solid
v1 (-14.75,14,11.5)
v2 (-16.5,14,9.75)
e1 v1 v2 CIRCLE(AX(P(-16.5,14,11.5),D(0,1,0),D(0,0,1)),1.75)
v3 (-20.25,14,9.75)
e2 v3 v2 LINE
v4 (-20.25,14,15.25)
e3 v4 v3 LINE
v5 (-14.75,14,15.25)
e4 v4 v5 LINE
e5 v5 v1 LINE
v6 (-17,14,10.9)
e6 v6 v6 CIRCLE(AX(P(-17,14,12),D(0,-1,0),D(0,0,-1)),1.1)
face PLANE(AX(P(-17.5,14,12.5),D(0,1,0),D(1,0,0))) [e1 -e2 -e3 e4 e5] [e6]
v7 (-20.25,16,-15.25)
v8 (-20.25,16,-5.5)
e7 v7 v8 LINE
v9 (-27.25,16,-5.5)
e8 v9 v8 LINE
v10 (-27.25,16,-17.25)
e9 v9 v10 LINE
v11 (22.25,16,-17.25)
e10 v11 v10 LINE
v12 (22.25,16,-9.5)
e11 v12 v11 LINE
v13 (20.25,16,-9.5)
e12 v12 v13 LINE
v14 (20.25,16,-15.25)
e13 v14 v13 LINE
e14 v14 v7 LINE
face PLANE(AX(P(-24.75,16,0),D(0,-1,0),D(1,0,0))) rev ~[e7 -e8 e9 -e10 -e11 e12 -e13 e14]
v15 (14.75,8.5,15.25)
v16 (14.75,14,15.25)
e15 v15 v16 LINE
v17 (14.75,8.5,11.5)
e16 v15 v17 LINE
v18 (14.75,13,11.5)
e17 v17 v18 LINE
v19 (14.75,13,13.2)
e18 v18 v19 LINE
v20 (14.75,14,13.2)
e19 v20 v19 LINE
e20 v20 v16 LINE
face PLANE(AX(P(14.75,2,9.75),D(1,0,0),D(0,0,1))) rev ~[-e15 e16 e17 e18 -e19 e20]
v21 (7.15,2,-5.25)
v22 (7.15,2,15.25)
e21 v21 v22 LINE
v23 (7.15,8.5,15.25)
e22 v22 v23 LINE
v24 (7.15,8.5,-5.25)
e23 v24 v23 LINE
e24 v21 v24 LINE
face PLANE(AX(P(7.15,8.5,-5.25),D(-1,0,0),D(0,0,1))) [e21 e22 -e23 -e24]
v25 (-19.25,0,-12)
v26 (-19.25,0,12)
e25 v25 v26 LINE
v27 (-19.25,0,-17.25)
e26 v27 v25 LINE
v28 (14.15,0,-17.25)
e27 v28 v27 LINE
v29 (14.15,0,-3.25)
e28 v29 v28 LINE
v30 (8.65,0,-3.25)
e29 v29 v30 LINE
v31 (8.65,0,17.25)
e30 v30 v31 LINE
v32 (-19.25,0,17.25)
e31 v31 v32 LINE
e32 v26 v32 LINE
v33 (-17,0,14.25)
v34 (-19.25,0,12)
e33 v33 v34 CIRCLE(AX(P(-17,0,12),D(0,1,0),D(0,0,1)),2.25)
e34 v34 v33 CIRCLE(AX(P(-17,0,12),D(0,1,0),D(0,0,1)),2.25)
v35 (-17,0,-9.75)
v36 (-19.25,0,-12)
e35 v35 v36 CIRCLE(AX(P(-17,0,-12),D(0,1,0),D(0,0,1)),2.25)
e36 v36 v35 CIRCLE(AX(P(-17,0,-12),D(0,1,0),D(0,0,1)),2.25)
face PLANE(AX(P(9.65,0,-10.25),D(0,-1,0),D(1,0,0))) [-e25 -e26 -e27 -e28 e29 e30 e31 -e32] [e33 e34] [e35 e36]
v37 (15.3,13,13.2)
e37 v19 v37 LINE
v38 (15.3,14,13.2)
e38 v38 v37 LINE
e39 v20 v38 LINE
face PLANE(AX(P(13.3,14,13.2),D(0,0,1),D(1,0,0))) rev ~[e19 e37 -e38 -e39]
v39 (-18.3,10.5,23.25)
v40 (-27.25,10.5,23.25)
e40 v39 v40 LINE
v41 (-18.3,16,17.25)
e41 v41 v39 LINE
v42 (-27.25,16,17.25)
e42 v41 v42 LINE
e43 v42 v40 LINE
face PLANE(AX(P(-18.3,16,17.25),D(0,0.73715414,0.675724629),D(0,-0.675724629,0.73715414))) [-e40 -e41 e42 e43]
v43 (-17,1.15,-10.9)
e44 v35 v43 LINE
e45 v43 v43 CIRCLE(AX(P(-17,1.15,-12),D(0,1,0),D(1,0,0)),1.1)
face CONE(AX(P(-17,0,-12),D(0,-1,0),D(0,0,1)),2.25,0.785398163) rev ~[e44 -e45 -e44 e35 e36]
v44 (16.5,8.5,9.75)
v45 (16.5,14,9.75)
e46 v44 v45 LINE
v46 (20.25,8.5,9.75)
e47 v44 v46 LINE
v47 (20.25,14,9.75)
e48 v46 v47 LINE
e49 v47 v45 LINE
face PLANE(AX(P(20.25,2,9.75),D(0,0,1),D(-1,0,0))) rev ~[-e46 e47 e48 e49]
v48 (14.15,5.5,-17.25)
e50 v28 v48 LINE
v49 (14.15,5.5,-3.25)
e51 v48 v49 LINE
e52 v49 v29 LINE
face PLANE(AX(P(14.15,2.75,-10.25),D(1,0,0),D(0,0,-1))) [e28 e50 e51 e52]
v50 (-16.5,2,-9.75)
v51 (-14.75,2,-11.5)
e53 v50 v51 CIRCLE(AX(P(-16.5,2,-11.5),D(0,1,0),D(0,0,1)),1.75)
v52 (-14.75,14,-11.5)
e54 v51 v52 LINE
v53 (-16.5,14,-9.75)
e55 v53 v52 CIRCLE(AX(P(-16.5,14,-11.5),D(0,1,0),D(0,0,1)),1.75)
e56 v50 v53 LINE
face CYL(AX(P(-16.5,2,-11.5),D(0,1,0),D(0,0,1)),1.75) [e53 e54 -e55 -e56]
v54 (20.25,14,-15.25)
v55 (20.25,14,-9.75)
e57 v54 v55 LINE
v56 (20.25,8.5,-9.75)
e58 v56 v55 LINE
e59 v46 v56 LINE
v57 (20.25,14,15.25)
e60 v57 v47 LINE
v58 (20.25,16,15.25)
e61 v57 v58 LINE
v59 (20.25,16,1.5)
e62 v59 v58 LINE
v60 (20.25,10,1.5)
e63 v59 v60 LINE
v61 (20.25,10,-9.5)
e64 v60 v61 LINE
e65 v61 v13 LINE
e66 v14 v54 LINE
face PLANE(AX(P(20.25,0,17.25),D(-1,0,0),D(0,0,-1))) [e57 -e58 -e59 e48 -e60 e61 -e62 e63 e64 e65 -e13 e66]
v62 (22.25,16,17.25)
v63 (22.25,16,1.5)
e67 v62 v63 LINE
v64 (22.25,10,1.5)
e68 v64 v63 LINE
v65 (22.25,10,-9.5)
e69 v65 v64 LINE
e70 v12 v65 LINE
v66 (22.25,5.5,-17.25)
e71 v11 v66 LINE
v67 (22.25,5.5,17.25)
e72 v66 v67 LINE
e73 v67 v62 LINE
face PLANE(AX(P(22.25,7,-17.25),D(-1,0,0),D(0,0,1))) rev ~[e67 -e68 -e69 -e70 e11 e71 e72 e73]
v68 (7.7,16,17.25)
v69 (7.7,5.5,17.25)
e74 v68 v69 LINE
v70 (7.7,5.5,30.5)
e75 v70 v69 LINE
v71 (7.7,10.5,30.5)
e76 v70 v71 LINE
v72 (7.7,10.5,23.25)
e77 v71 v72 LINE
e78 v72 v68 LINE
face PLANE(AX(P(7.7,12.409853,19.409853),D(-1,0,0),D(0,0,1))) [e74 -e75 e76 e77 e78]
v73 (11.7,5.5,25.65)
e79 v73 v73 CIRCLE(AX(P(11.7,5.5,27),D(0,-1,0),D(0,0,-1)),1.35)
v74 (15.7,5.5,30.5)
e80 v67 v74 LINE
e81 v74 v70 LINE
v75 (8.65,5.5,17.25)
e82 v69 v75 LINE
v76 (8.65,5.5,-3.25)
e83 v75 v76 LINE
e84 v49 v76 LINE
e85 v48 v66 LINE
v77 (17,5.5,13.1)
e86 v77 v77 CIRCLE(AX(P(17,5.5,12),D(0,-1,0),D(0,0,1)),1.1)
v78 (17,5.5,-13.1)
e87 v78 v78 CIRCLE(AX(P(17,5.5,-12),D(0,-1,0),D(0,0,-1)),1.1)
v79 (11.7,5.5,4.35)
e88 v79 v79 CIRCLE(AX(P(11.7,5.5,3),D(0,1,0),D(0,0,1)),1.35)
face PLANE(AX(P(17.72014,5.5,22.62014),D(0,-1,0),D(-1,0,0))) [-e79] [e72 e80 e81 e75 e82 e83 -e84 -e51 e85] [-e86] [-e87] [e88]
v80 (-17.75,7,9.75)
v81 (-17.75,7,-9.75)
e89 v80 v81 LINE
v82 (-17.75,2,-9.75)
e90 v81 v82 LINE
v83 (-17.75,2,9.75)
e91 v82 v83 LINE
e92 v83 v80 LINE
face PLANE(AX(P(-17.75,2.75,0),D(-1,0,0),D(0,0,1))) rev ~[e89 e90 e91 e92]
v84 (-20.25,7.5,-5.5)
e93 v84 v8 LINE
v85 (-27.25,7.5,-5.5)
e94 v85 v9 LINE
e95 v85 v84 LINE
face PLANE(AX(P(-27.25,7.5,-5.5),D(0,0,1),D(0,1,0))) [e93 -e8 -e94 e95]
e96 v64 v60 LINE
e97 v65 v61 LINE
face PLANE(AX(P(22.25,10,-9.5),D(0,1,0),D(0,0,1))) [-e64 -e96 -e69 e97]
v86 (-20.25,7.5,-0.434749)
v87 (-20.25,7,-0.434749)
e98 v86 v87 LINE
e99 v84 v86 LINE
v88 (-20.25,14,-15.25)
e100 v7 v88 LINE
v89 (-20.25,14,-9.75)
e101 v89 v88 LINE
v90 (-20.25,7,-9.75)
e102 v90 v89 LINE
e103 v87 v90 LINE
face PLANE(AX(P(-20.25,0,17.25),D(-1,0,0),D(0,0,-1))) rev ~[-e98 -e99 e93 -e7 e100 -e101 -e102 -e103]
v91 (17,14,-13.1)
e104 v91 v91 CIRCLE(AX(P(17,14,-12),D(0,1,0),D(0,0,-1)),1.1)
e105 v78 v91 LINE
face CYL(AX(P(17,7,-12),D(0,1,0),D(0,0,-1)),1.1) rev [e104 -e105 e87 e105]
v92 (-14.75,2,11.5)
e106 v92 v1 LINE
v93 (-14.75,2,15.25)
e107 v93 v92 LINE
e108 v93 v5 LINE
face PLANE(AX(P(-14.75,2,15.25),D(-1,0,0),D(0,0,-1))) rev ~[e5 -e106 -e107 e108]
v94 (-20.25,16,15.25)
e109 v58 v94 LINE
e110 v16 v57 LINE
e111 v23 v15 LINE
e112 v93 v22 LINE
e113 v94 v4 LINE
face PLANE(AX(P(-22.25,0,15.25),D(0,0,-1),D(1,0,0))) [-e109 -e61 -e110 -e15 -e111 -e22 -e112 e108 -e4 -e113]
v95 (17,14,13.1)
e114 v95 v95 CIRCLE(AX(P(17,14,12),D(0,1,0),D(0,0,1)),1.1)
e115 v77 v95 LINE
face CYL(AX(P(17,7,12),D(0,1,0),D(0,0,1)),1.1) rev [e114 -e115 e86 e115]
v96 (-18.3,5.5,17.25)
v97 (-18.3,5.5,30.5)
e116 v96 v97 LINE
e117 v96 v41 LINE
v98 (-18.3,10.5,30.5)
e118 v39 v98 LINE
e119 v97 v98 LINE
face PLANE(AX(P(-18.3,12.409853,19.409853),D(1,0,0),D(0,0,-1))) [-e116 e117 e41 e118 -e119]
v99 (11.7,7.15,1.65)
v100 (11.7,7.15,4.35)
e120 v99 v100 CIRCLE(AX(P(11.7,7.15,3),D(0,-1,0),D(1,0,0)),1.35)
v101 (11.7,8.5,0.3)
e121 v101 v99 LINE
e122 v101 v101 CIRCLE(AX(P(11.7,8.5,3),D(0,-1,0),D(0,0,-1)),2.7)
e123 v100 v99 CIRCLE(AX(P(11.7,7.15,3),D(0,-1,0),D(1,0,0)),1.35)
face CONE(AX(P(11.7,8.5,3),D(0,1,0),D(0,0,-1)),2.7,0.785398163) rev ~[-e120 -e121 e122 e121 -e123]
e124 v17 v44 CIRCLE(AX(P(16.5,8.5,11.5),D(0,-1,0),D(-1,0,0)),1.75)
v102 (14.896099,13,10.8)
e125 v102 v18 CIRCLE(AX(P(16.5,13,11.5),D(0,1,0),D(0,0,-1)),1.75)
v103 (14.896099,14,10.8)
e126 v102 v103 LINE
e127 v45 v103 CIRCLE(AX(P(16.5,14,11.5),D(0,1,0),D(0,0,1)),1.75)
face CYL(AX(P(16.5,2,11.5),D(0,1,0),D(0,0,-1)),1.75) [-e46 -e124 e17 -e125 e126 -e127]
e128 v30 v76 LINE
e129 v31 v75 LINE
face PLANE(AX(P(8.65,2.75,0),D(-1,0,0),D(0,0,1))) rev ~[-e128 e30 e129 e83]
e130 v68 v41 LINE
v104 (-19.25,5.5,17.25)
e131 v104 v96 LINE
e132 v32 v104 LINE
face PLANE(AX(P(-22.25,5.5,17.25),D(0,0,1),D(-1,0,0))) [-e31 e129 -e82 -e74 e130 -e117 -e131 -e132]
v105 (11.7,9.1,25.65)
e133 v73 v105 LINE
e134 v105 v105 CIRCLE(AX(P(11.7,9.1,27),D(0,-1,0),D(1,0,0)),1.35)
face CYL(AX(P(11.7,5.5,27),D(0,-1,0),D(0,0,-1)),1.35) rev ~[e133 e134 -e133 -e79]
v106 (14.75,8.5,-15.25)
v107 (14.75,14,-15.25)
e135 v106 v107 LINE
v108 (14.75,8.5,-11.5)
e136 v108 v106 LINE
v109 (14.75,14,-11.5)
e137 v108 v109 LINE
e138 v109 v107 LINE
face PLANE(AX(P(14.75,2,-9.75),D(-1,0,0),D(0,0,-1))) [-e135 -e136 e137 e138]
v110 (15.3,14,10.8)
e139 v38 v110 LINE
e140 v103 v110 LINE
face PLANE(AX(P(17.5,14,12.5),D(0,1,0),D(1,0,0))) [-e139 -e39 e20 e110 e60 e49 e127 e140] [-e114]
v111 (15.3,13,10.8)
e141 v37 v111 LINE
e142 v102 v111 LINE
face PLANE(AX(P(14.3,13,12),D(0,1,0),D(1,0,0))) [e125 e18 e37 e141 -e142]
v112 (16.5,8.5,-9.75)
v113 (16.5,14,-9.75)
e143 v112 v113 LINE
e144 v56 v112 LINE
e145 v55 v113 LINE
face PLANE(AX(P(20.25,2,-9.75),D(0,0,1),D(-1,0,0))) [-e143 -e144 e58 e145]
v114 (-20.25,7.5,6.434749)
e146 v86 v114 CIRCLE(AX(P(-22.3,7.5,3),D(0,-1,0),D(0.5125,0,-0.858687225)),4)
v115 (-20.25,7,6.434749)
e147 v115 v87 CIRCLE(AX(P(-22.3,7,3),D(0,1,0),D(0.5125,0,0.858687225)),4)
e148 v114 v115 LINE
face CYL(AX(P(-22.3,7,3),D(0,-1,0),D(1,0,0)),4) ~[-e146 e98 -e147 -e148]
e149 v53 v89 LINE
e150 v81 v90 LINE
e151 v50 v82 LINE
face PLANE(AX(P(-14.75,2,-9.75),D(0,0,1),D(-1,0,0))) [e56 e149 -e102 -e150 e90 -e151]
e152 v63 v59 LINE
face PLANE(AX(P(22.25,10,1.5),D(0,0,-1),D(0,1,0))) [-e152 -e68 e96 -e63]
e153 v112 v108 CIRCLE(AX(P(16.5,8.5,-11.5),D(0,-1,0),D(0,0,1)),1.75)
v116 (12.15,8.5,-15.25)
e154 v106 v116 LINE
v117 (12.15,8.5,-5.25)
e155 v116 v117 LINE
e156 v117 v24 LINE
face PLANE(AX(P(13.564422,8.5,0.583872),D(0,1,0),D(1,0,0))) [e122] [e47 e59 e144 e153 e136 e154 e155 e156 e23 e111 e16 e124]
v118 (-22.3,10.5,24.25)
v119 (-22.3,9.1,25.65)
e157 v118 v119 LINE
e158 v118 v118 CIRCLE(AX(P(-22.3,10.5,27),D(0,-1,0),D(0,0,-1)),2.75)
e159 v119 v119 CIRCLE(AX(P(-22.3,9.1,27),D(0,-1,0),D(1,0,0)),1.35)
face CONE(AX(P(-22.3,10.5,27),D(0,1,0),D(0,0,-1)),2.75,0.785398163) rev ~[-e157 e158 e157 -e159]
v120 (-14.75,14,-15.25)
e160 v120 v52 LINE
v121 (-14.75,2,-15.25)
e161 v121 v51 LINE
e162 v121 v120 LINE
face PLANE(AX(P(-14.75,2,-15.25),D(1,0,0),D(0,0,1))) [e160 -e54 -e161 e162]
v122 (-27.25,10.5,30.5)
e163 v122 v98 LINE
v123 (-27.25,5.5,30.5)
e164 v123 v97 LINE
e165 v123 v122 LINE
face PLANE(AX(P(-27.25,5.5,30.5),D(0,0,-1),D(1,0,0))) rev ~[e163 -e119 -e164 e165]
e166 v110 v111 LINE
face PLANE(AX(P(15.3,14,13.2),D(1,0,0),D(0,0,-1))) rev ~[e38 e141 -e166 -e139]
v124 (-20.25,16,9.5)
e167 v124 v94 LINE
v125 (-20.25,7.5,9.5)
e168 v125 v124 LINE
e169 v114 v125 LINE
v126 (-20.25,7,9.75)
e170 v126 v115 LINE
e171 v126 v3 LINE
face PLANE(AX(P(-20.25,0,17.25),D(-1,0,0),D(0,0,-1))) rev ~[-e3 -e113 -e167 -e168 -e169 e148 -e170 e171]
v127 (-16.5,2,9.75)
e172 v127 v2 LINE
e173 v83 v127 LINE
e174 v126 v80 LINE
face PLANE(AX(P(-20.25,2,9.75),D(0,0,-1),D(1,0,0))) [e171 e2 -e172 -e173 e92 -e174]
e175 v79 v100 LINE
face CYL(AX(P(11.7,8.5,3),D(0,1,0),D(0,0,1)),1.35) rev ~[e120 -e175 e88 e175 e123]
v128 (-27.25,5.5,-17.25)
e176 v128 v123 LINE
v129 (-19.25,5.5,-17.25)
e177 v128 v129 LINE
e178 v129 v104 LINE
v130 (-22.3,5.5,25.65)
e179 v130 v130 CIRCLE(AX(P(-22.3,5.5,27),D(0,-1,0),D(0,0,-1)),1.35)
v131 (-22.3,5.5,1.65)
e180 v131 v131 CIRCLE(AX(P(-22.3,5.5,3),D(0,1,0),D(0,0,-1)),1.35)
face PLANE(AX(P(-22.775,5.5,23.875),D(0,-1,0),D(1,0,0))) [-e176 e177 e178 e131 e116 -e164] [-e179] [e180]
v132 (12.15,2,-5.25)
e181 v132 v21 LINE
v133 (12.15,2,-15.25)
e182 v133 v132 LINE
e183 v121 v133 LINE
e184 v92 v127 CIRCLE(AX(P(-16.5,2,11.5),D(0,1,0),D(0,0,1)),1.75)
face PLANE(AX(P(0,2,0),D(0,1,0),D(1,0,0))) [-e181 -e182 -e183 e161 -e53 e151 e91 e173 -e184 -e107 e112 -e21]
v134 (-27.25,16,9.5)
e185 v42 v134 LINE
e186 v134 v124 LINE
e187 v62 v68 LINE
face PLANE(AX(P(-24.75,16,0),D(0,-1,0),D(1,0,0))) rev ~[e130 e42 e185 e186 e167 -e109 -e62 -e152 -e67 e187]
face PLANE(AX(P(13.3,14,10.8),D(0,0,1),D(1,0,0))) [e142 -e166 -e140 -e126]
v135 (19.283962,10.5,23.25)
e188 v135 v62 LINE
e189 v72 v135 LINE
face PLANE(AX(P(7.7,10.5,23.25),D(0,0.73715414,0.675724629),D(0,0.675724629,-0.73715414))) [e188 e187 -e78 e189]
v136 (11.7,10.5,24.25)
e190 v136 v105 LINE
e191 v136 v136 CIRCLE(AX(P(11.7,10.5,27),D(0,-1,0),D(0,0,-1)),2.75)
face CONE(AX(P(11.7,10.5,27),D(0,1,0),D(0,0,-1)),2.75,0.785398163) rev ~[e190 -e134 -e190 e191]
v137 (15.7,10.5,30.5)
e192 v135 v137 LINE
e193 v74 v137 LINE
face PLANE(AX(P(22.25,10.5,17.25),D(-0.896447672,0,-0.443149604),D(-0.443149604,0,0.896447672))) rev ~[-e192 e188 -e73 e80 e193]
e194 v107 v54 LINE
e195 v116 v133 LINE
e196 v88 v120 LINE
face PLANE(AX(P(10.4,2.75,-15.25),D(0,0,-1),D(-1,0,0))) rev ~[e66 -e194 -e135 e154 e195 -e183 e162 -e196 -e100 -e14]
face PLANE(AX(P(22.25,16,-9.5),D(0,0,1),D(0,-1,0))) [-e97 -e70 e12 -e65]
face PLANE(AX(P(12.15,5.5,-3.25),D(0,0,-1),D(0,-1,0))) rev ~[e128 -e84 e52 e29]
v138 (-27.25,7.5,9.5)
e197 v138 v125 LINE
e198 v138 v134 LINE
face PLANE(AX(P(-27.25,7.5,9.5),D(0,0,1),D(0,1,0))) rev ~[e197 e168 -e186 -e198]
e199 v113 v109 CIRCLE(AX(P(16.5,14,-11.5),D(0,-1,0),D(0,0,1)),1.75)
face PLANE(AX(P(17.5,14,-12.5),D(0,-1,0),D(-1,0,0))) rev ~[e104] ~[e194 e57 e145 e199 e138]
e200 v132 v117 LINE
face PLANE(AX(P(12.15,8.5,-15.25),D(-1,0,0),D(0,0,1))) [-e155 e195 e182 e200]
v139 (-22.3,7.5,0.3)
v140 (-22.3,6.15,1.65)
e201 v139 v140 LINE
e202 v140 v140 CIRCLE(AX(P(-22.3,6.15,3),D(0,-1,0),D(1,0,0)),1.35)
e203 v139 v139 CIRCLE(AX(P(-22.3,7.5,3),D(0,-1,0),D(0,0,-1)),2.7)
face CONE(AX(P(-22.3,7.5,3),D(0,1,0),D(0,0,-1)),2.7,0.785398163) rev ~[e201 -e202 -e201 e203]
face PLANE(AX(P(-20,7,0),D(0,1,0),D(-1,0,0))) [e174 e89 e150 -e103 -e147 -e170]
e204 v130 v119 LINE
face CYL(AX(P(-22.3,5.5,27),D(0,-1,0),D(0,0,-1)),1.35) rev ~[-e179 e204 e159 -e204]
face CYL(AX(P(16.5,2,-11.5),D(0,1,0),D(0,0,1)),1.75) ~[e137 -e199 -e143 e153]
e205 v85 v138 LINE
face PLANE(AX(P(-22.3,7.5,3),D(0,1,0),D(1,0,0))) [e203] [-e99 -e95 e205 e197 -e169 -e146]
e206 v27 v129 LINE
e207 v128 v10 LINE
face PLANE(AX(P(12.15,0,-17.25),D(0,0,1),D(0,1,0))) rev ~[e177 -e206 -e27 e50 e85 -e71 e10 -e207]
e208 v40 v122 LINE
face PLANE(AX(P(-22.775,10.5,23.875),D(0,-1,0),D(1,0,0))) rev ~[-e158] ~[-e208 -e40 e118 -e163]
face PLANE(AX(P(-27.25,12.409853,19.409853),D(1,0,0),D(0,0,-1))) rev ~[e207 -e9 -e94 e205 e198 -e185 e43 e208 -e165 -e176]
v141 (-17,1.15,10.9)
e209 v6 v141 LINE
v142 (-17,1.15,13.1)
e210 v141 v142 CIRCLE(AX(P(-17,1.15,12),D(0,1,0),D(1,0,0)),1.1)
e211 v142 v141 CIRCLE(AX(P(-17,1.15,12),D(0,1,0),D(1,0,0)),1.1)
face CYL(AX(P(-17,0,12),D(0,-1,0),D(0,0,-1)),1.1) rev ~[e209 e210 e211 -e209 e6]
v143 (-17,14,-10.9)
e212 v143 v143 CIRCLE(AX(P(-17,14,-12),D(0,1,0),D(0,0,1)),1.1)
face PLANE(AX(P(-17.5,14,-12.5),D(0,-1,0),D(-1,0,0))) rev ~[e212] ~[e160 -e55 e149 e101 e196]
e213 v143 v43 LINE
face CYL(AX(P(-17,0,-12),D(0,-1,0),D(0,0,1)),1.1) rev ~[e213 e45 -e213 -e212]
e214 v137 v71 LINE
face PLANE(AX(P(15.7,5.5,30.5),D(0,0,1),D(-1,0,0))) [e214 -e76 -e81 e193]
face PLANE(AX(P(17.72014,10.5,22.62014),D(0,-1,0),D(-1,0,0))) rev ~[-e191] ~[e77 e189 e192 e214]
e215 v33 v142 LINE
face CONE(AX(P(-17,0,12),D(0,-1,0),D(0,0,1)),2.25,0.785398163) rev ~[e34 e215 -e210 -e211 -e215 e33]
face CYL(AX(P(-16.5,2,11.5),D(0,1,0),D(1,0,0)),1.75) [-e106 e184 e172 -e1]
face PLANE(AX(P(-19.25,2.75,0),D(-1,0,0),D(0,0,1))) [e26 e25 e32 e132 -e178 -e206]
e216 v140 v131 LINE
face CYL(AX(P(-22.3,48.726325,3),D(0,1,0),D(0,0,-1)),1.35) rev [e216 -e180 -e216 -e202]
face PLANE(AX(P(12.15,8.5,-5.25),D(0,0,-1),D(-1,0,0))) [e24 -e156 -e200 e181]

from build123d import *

# Parameters (mm, degrees)
SKETCH_1_W                          = 44.5
SKETCH_1_H                          = 34.5
EXTRUDE_1_DEPTH                     = 16
SHELL_1_T                           = -2
SKETCH_2_W                          = 5.5000000000000036
SKETCH_2_H                          = 5.499999999999993
EXTRUDE_2_DEPTH                     = 12
SKETCH_3_R                          = 1.0999999999999992
CUT_EXTRUDE_1_DEPTH                 = 32.44240766862487
FILLET_1_R                          = 1.75
SKETCH_7_W                          = 15.099999999999996
SKETCH_7_H                          = 34.5
CUT_EXTRUDE_4_DEPTH                 = 7
SKETCH_8_W                          = 15.099999999999996
SKETCH_8_H                          = 34.5
SKETCH_8_R                          = 1.0999999999999992
EXTRUDE_3_DEPTH                     = 1.5
EXTRUDE_4_DEPTH                     = 1.5
CUT_EXTRUDE_6_DEPTH                 = 5
SKETCH_13_W                         = 34.5
SKETCH_13_H                         = 5.5
EXTRUDE_7_DEPTH                     = 1.5
SKETCH_14_R                         = 1.0999999999999992
SKETCH_14_R_2                       = 1.0999999999999954
CUT_EXTRUDE_7_DEPTH                 = 33.382479830920914
EXTRUDE_8_DEPTH                     = 10.5
SKETCH_18_W                         = 8.950000000000003
SKETCH_18_H                         = 13.250000000000004
SKETCH_18_R                         = 1.3500000000000054
SKETCH_18_R_2                       = 1.3500000000000005
EXTRUDE_9_DEPTH                     = 5
CUT_EXTRUDE_8_DEPTH                 = 43.22632472759144
CUT_EXTRUDE_8_DEPTH_BACK            = 43.22632472759144
SKETCH_18_3_R                       = 1.3500000000000059
SKETCH_18_3_R_2                     = 1.3500000000000005
HOLE_WIZARD_M2_5_1_D                = 2.7
HOLE_WIZARD_M2_5_1_DEPTH            = 24.83
HOLE_WIZARD_M2_5_1_CSINK_D          = 5.5
HOLE_WIZARD_M2_5_1_CSINK_ANGLE      = 90
HOLE_WIZARD_M2_5_1_TIP              = 0.8111618356872065
EXTRUDE_10_DEPTH                    = 8.95
SKETCH_22_W                         = 2
SKETCH_22_H                         = 2.399999999999997
CUT_EXTRUDE_9_DEPTH                 = 1
HOLE_WIZARD_1_D                     = 2.2
HOLE_WIZARD_1_CSINK_D               = 4.5
HOLE_WIZARD_1_CSINK_ANGLE           = 90
CUT_EXTRUDE_10_DEPTH                = 42.878544626097025
EXTRUDE_11_DEPTH                    = 2
EXTRUDE_START                       = -2
EXTRUDE_12_DEPTH                    = 2
EXTRUDE_13_DEPTH                    = 2
EXTRUDE_14_DEPTH                    = 2
SKETCH_31_W                         = 15
SKETCH_31_H                         = 8.5
CUT_EXTRUDE_11_DEPTH                = 10
EXTRUDE_START_2                     = 1.5
SKETCH_32_R                         = 1.3500000000000005
EXTRUDE_15_DEPTH                    = 1.5
EXTRUDE_START_3                     = -0.5
SKETCH_34_R                         = 3.999999999999999
SKETCH_34_R_2                       = 1.3500000000000059
EXTRUDE_18_DEPTH                    = 0.5
HOLE_WIZARD_2_D                     = 2.7
HOLE_WIZARD_2_CSINK_D               = 5.4
HOLE_WIZARD_2_CSINK_ANGLE           = 90
HOLE_WIZARD_2_ON_FACE_2_D           = 2.7
HOLE_WIZARD_2_ON_FACE_2_CSINK_D     = 5.4
HOLE_WIZARD_2_ON_FACE_2_CSINK_ANGLE = 90
EXTRUDE_19_DEPTH                    = 5
EXTRUDE_20_DEPTH                    = 17.499999999999996
CUT_EXTRUDE_12_DEPTH                = 17.499999999999996


with BuildPart() as part:
    # 草图1 → 凸台-拉伸1 (new body)
    with BuildSketch(Plane(origin=(0, 0, 0), x_dir=(1, 0, 0), z_dir=(0, 1, 0))):
        Rectangle(SKETCH_1_W, SKETCH_1_H)
    extrude(amount=EXTRUDE_1_DEPTH)

    # 抽壳1
    shell_1_openings = [part.faces().sort_by_distance(p)[0] for p in [
        (0, 16, 0),
    ]]
    offset(amount=SHELL_1_T, openings=shell_1_openings, kind=Kind.INTERSECTION)

    # 草图2 → 凸台-拉伸2 (add)
    with BuildSketch(Plane(origin=(0, 2, 0), x_dir=(1, 0, 0), z_dir=(0, 1, 0))):
        Polygon((20.249999999999996, -15.250000000000002), (20.25, -9.75), (14.749999999999993, -9.749999999999996), (14.749999999999995, -15.250000000000005), align=None)
        Polygon((-20.249999999999996, 15.250000000000002), (-14.749999999999995, 15.250000000000002), (-14.749999999999995, 9.750000000000002), (-20.249999999999993, 9.750000000000002), align=None)
        with Locations((-17.499999999999993, -12.500000000000005)):
            Rectangle(SKETCH_2_W, SKETCH_2_H)
        Polygon((20.249999999999996, 9.75), (14.749999999999991, 9.749999999999996), (14.749999999999991, 15.250000000000005), (20.249999999999996, 15.250000000000002), align=None)
    extrude(amount=EXTRUDE_2_DEPTH)

    # 草图3 → 切除-拉伸1 (cut, through all)
    with BuildSketch(Plane(origin=(0, 14, 0), x_dir=(1, 0, 0), z_dir=(0, 1, 0))):
        with Locations(Location((-17, 12, 0), (0, 0, 270))):
            Circle(SKETCH_3_R)
        with Locations(Location((17, 12, 0), (0, 0, 90))):
            Circle(SKETCH_3_R)
        with Locations(Location((17, -12, 0), (0, 0, 270))):
            Circle(SKETCH_3_R)
        with Locations(Location((-17, -12, 0), (0, 0, 90))):
            Circle(SKETCH_3_R)
    extrude(amount=-CUT_EXTRUDE_1_DEPTH, mode=Mode.SUBTRACT)

    # 圆角1
    fillet_1_edges = [part.edges().sort_by_distance(p)[0] for p in [
        (-14.749999999999995, 8, -9.750000000000002),
        (-14.749999999999993, 8, 9.750000000000009),
        (14.749999999999993, 8, 9.749999999999996),
        (14.749999999999991, 8, -9.749999999999996),
    ]]
    fillet(fillet_1_edges, radius=FILLET_1_R)

    # 草图7 → 切除-拉伸4 (cut)
    with BuildSketch(Plane.XZ):
        with Locations((14.700000000000003, 0)):
            Rectangle(SKETCH_7_W, SKETCH_7_H)
        Polygon((-22.25, 17.25), (-17.75, 17.25), (-17.74999999999999, -17.25), (-22.25, -17.25), align=None)
    extrude(amount=-CUT_EXTRUDE_4_DEPTH, mode=Mode.SUBTRACT)

    # 草图8 → 凸台-拉伸3 (add)
    # profile 1 of 2: a face of its own
    with BuildSketch(Plane.XZ.offset(-7)):
        with Locations((14.700000000000003, 0)):
            Rectangle(SKETCH_8_W, SKETCH_8_H)
        with Locations(Location((17, 12, 0), (0, 0, 90))):
            Circle(SKETCH_8_R, mode=Mode.SUBTRACT)
        with Locations(Location((17, -12, 0), (0, 0, 270))):
            Circle(SKETCH_8_R, mode=Mode.SUBTRACT)
    # profile 2 of 2: a face of its own
    with BuildSketch(Plane.XZ.offset(-7)):
        Polygon((-22.25, 17.25), (-17.749999999999993, 17.25), (-17.74999999999999, -17.25), (-22.25, -17.25), align=None)
    extrude(amount=EXTRUDE_3_DEPTH)

    # 草图9 → 凸台-拉伸4 (add)
    with BuildSketch(Plane(origin=(7.150000000000004, 0, 0), x_dir=(0, 0, -1), z_dir=(1, 0, 0))):
        Polygon((17.25, 0), (-17.25, -4.16e-15), (-17.25, 5.5), (17.25, 5.5000000000000036), align=None)
    extrude(amount=EXTRUDE_4_DEPTH)

    # 草图12 → 切除-拉伸6 (cut)
    with BuildSketch(Plane(origin=(22.25, 0, 0), x_dir=(0, 0, -1), z_dir=(1, 0, 0))):
        Polygon((9.500000000000002, 10.000000000000002), (-1.4999999999999996, 10), (-1.4999999999999996, 16), (9.5, 16), align=None)
    extrude(amount=-CUT_EXTRUDE_6_DEPTH, mode=Mode.SUBTRACT)

    # 草图13 → 凸台-拉伸7 (add)
    with BuildSketch(Plane.ZY.offset(17.749999999999996)):
        with Locations((7.11e-15, 2.75)):
            Rectangle(SKETCH_13_W, SKETCH_13_H)
    extrude(amount=EXTRUDE_7_DEPTH)

    # 草图14 → 切除-拉伸7 (cut, through all)
    with BuildSketch(Plane.XZ):
        with Locations(Location((-17, 12, 0), (0, 0, 270))):
            Circle(SKETCH_14_R)
        with Locations(Location((-17, -12, 0), (0, 0, 90))):
            Circle(SKETCH_14_R_2)
    extrude(amount=-CUT_EXTRUDE_7_DEPTH, mode=Mode.SUBTRACT)

    # 草图16 → 凸台-拉伸8 (add)
    with BuildSketch(Plane.XZ.offset(-5.5)):
        Polygon((-22.25, 17.25), (-27.25, 17.25), (-27.249999999999996, -17.25), (-22.25, -17.25), align=None)
    extrude(amount=-EXTRUDE_8_DEPTH)

    # 草图18 → 凸台-拉伸9 (add)
    # profile 1 of 2: a face of its own
    with BuildSketch(Plane.XZ.offset(-5.5)):
        with Locations((-22.775000000000002, 23.875)):
            Rectangle(SKETCH_18_W, SKETCH_18_H)
        with Locations(Location((-22.299999999999994, 27, 0), (0, 0, 270))):
            Circle(SKETCH_18_R, mode=Mode.SUBTRACT)
    # profile 2 of 2: a face of its own
    with BuildSketch(Plane.XZ.offset(-5.5)):
        Polygon((7.700000000000007, 17.25), (15.7, 17.25), (15.7, 30.500000000000004), (7.7000000000000055, 30.500000000000004), align=None)
        with Locations(Location((11.700000000000003, 27, 0), (0, 0, 270))):
            Circle(SKETCH_18_R_2, mode=Mode.SUBTRACT)
    extrude(amount=-EXTRUDE_9_DEPTH)

    # 草图18<3> → 切除-拉伸8 (cut, two sides: drawn at the far end of the back side and taken through both)
    with BuildSketch(Plane.XZ.offset(-5.5).offset(-CUT_EXTRUDE_8_DEPTH_BACK)):
        with Locations(Location((-22.299999999999997, 3, 0), (0, 0, 270))):
            Circle(SKETCH_18_3_R)
        with Locations(Location((11.700000000000006, 3, 0), (0, 0, 90))):
            Circle(SKETCH_18_3_R_2)
    extrude(amount=CUT_EXTRUDE_8_DEPTH + CUT_EXTRUDE_8_DEPTH_BACK, mode=Mode.SUBTRACT)

    # M2.5 锥坑高头螺钉的锥形沉头孔1
    with Locations(Plane(origin=(-22.3, 10.5, 27), x_dir=(0, 0, 1), z_dir=(0, 1, 0))):
        with Locations((0, 0), (0, 34)):
            CounterSinkHole(HOLE_WIZARD_M2_5_1_D / 2, HOLE_WIZARD_M2_5_1_CSINK_D / 2, depth=HOLE_WIZARD_M2_5_1_DEPTH, counter_sink_angle=HOLE_WIZARD_M2_5_1_CSINK_ANGLE)
            with Locations((0, 0, -(HOLE_WIZARD_M2_5_1_DEPTH + HOLE_WIZARD_M2_5_1_TIP / 2))):  # 118° drill point
                Cone(0, HOLE_WIZARD_M2_5_1_D / 2, HOLE_WIZARD_M2_5_1_TIP, mode=Mode.SUBTRACT)

    # 草图20 → 凸台-拉伸10 (add)
    with BuildSketch(Plane(origin=(-18.3, 0, 0), x_dir=(0, 0, -1), z_dir=(1, 0, 0))):
        Polygon((-23.25, 10.499999999999998), (-17.25, 10.499999999999998), (-17.25, 16), align=None)
    extrude(amount=-EXTRUDE_10_DEPTH)

    # 草图22 → 切除-拉伸9 (cut)
    with BuildSketch(Plane(origin=(0, 14, 0), x_dir=(1, 0, 0), z_dir=(0, 1, 0))):
        with Locations((14.3, -12)):
            Rectangle(SKETCH_22_W, SKETCH_22_H)
    extrude(amount=-CUT_EXTRUDE_9_DEPTH, mode=Mode.SUBTRACT)

    # 打孔尺寸(%根据十字)槽沉头木螺钉的类型1 (through all)
    with Locations(Plane(origin=(-17, 0, 12), x_dir=(0, 0, -1), z_dir=(0, -1, 0))):
        with Locations((0, 0), (24, 0)):
            CounterSinkHole(HOLE_WIZARD_1_D / 2, HOLE_WIZARD_1_CSINK_D / 2, counter_sink_angle=HOLE_WIZARD_1_CSINK_ANGLE)

    # 草图25 → 切除-拉伸10 (cut, through all)
    with BuildSketch(Plane(origin=(0, 7, 0), x_dir=(1, 0, 0), z_dir=(0, 1, 0))):
        Polygon((7.150000000000004, 3.2500000000000027), (12.150000000000006, 3.2500000000000044), (12.150000000000006, 15.250000000000005), (7.150000000000005, 15.250000000000007), align=None)
    extrude(amount=-CUT_EXTRUDE_10_DEPTH, mode=Mode.SUBTRACT)

    # 草图26 → 凸台-拉伸11 (add)
    with BuildSketch(Plane(origin=(-1.13e-15, 0, -3.2500000000000004), x_dir=(-1, 0, 3.5e-16), z_dir=(-3.5e-16, 0, -1))):
        Polygon((-7.150000000000005, 7), (-12.150000000000007, 7), (-12.150000000000004, 0), (-7.150000000000005, -4.34e-15), align=None)
    extrude(amount=EXTRUDE_11_DEPTH)

    # 草图27 → 凸台-拉伸12 (add)
    with BuildSketch(Plane(origin=(0, 0, -17.25), x_dir=(-1, 0, 0), z_dir=(0, 0, -1)).offset(EXTRUDE_START)):
        Polygon((-12.150000000000002, 0), (-8.650000000000004, 0), (-8.650000000000004, 5.5), (-12.150000000000006, 5.5), align=None)
    extrude(amount=EXTRUDE_12_DEPTH)

    # 草图28 → 凸台-拉伸13 (add)
    with BuildSketch(Plane(origin=(12.150000000000004, -6.02e-15, -4.22e-15), x_dir=(-3.5e-16, 0, -1), z_dir=(1, -5e-16, -3.5e-16))):
        Polygon((17.249999999999996, 6.02e-15), (17.249999999999993, 5.500000000000011), (3.2500000000000004, 5.500000000000005), (3.2500000000000004, 6.02e-15), align=None)
    extrude(amount=EXTRUDE_13_DEPTH)

    # 草图29 → 凸台-拉伸14 (add)
    with BuildSketch(Plane.XZ):
        Polygon((12.150000000000002, -5.250000000000004), (7.150000000000003, -5.250000000000003), (7.150000000000005, -15.250000000000007), (12.149999999999999, -15.250000000000002), align=None)
    extrude(amount=-EXTRUDE_14_DEPTH)

    # 草图31 → 切除-拉伸11 (cut)
    with BuildSketch(Plane.ZY.offset(27.249999999999996)):
        with Locations((2.0000000000000053, 11.75)):
            Rectangle(SKETCH_31_W, SKETCH_31_H)
    extrude(amount=-CUT_EXTRUDE_11_DEPTH, mode=Mode.SUBTRACT)

    # 草图32 → 凸台-拉伸15 (add)
    with BuildSketch(Plane(origin=(0, 7, 0), x_dir=(1, 0, 0), z_dir=(0, 1, 0)).offset(EXTRUDE_START_2)):
        with BuildLine():
            Line((12.150000000000006, 15.250000000000005), (12.150000000000006, 5.250000000000004))
            Line((12.150000000000006, 5.250000000000004), (7.150000000000003, 5.250000000000003))
            Line((7.150000000000003, 5.250000000000003), (7.150000000000004, -15.25))
            Line((7.150000000000004, -15.25), (14.749999999999995, -15.250000000000005))
            Line((14.749999999999995, -15.250000000000005), (14.749999999999993, -11.499999999999998))
            ThreePointArc((14.749999999999993, -11.499999999999998), (15.262563132923535, -10.26256313292354), (16.499999999999993, -9.749999999999998))
            Line((16.499999999999993, -9.749999999999998), (20.25, -9.75))
            Line((20.25, -9.75), (20.249999999999996, 9.750000000000002))
            Line((20.249999999999996, 9.750000000000002), (16.49999999999999, 9.749999999999998))
            ThreePointArc((16.49999999999999, 9.749999999999998), (15.262563132923532, 10.262563132923542), (14.749999999999991, 11.5))
            Line((14.749999999999991, 11.5), (14.749999999999991, 15.250000000000005))
            Line((14.749999999999991, 15.250000000000005), (12.150000000000006, 15.250000000000005))
        make_face()
        with Locations(Location((11.700000000000006, -3, 0), (0, 0, 270))):
            Circle(SKETCH_32_R, mode=Mode.SUBTRACT)
    extrude(amount=-EXTRUDE_15_DEPTH)

    # 草图34 → 凸台-拉伸18 (add)
    with BuildSketch(Plane(origin=(0, 7.5, 0), x_dir=(1, 0, 0), z_dir=(0, 1, 0)).offset(EXTRUDE_START_3)):
        with Locations((-22.299999999999997, -3)):
            Circle(SKETCH_34_R)
        with Locations(Location((-22.299999999999997, -3, 0), (0, 0, 90))):
            Circle(SKETCH_34_R_2, mode=Mode.SUBTRACT)
    extrude(amount=EXTRUDE_18_DEPTH)

    # 打孔尺寸(%根据十字)槽沉头木螺钉的类型2 (through all)
    with Locations(Plane(origin=(11.7, 8.5, 3), x_dir=(0, 0, 1), z_dir=(0, 1, 0))):
        with Locations((0, 0)):
            CounterSinkHole(HOLE_WIZARD_2_D / 2, HOLE_WIZARD_2_CSINK_D / 2, counter_sink_angle=HOLE_WIZARD_2_CSINK_ANGLE)

    # 打孔尺寸(%根据十字)槽沉头木螺钉的类型2 on face 2 (through all)
    with Locations(Plane(origin=(-22.3, 7.5, 3), x_dir=(0, 0, 1), z_dir=(0, 1, 0))):
        with Locations((0, 0)):
            CounterSinkHole(HOLE_WIZARD_2_ON_FACE_2_D / 2, HOLE_WIZARD_2_ON_FACE_2_CSINK_D / 2, counter_sink_angle=HOLE_WIZARD_2_ON_FACE_2_CSINK_ANGLE)

    # 草图35 → 凸台-拉伸19 (add)
    with BuildSketch(Plane(origin=(0, 10.499999999999998, 0), x_dir=(1, 0, 0), z_dir=(0, 1, 0))):
        Polygon((15.7, -30.500000000000004), (15.7, -17.25), (22.25, -17.25), align=None)
    extrude(amount=-EXTRUDE_19_DEPTH)

    # 草图36 → 凸台-拉伸20 (add)
    with BuildSketch(Plane.ZY.offset(-7.70000000000001)):
        Polygon((17.25, 10.499999999999998), (23.250000000000004, 10.499999999999998), (17.25, 16), align=None)
    extrude(amount=-EXTRUDE_20_DEPTH)

    # 草图37 → 切除-拉伸12 (cut)
    with BuildSketch(Plane(origin=(0, 16, 0), x_dir=(1, 0, 0), z_dir=(0, 1, 0))):
        Polygon((15.7, -30.500000000000004), (22.25, -17.25), (25.200000000000006, -17.250000000000004), (25.200000000000006, -30.824811105739553), align=None)
    extrude(amount=-CUT_EXTRUDE_12_DEPTH, mode=Mode.SUBTRACT)


solid = part.part
